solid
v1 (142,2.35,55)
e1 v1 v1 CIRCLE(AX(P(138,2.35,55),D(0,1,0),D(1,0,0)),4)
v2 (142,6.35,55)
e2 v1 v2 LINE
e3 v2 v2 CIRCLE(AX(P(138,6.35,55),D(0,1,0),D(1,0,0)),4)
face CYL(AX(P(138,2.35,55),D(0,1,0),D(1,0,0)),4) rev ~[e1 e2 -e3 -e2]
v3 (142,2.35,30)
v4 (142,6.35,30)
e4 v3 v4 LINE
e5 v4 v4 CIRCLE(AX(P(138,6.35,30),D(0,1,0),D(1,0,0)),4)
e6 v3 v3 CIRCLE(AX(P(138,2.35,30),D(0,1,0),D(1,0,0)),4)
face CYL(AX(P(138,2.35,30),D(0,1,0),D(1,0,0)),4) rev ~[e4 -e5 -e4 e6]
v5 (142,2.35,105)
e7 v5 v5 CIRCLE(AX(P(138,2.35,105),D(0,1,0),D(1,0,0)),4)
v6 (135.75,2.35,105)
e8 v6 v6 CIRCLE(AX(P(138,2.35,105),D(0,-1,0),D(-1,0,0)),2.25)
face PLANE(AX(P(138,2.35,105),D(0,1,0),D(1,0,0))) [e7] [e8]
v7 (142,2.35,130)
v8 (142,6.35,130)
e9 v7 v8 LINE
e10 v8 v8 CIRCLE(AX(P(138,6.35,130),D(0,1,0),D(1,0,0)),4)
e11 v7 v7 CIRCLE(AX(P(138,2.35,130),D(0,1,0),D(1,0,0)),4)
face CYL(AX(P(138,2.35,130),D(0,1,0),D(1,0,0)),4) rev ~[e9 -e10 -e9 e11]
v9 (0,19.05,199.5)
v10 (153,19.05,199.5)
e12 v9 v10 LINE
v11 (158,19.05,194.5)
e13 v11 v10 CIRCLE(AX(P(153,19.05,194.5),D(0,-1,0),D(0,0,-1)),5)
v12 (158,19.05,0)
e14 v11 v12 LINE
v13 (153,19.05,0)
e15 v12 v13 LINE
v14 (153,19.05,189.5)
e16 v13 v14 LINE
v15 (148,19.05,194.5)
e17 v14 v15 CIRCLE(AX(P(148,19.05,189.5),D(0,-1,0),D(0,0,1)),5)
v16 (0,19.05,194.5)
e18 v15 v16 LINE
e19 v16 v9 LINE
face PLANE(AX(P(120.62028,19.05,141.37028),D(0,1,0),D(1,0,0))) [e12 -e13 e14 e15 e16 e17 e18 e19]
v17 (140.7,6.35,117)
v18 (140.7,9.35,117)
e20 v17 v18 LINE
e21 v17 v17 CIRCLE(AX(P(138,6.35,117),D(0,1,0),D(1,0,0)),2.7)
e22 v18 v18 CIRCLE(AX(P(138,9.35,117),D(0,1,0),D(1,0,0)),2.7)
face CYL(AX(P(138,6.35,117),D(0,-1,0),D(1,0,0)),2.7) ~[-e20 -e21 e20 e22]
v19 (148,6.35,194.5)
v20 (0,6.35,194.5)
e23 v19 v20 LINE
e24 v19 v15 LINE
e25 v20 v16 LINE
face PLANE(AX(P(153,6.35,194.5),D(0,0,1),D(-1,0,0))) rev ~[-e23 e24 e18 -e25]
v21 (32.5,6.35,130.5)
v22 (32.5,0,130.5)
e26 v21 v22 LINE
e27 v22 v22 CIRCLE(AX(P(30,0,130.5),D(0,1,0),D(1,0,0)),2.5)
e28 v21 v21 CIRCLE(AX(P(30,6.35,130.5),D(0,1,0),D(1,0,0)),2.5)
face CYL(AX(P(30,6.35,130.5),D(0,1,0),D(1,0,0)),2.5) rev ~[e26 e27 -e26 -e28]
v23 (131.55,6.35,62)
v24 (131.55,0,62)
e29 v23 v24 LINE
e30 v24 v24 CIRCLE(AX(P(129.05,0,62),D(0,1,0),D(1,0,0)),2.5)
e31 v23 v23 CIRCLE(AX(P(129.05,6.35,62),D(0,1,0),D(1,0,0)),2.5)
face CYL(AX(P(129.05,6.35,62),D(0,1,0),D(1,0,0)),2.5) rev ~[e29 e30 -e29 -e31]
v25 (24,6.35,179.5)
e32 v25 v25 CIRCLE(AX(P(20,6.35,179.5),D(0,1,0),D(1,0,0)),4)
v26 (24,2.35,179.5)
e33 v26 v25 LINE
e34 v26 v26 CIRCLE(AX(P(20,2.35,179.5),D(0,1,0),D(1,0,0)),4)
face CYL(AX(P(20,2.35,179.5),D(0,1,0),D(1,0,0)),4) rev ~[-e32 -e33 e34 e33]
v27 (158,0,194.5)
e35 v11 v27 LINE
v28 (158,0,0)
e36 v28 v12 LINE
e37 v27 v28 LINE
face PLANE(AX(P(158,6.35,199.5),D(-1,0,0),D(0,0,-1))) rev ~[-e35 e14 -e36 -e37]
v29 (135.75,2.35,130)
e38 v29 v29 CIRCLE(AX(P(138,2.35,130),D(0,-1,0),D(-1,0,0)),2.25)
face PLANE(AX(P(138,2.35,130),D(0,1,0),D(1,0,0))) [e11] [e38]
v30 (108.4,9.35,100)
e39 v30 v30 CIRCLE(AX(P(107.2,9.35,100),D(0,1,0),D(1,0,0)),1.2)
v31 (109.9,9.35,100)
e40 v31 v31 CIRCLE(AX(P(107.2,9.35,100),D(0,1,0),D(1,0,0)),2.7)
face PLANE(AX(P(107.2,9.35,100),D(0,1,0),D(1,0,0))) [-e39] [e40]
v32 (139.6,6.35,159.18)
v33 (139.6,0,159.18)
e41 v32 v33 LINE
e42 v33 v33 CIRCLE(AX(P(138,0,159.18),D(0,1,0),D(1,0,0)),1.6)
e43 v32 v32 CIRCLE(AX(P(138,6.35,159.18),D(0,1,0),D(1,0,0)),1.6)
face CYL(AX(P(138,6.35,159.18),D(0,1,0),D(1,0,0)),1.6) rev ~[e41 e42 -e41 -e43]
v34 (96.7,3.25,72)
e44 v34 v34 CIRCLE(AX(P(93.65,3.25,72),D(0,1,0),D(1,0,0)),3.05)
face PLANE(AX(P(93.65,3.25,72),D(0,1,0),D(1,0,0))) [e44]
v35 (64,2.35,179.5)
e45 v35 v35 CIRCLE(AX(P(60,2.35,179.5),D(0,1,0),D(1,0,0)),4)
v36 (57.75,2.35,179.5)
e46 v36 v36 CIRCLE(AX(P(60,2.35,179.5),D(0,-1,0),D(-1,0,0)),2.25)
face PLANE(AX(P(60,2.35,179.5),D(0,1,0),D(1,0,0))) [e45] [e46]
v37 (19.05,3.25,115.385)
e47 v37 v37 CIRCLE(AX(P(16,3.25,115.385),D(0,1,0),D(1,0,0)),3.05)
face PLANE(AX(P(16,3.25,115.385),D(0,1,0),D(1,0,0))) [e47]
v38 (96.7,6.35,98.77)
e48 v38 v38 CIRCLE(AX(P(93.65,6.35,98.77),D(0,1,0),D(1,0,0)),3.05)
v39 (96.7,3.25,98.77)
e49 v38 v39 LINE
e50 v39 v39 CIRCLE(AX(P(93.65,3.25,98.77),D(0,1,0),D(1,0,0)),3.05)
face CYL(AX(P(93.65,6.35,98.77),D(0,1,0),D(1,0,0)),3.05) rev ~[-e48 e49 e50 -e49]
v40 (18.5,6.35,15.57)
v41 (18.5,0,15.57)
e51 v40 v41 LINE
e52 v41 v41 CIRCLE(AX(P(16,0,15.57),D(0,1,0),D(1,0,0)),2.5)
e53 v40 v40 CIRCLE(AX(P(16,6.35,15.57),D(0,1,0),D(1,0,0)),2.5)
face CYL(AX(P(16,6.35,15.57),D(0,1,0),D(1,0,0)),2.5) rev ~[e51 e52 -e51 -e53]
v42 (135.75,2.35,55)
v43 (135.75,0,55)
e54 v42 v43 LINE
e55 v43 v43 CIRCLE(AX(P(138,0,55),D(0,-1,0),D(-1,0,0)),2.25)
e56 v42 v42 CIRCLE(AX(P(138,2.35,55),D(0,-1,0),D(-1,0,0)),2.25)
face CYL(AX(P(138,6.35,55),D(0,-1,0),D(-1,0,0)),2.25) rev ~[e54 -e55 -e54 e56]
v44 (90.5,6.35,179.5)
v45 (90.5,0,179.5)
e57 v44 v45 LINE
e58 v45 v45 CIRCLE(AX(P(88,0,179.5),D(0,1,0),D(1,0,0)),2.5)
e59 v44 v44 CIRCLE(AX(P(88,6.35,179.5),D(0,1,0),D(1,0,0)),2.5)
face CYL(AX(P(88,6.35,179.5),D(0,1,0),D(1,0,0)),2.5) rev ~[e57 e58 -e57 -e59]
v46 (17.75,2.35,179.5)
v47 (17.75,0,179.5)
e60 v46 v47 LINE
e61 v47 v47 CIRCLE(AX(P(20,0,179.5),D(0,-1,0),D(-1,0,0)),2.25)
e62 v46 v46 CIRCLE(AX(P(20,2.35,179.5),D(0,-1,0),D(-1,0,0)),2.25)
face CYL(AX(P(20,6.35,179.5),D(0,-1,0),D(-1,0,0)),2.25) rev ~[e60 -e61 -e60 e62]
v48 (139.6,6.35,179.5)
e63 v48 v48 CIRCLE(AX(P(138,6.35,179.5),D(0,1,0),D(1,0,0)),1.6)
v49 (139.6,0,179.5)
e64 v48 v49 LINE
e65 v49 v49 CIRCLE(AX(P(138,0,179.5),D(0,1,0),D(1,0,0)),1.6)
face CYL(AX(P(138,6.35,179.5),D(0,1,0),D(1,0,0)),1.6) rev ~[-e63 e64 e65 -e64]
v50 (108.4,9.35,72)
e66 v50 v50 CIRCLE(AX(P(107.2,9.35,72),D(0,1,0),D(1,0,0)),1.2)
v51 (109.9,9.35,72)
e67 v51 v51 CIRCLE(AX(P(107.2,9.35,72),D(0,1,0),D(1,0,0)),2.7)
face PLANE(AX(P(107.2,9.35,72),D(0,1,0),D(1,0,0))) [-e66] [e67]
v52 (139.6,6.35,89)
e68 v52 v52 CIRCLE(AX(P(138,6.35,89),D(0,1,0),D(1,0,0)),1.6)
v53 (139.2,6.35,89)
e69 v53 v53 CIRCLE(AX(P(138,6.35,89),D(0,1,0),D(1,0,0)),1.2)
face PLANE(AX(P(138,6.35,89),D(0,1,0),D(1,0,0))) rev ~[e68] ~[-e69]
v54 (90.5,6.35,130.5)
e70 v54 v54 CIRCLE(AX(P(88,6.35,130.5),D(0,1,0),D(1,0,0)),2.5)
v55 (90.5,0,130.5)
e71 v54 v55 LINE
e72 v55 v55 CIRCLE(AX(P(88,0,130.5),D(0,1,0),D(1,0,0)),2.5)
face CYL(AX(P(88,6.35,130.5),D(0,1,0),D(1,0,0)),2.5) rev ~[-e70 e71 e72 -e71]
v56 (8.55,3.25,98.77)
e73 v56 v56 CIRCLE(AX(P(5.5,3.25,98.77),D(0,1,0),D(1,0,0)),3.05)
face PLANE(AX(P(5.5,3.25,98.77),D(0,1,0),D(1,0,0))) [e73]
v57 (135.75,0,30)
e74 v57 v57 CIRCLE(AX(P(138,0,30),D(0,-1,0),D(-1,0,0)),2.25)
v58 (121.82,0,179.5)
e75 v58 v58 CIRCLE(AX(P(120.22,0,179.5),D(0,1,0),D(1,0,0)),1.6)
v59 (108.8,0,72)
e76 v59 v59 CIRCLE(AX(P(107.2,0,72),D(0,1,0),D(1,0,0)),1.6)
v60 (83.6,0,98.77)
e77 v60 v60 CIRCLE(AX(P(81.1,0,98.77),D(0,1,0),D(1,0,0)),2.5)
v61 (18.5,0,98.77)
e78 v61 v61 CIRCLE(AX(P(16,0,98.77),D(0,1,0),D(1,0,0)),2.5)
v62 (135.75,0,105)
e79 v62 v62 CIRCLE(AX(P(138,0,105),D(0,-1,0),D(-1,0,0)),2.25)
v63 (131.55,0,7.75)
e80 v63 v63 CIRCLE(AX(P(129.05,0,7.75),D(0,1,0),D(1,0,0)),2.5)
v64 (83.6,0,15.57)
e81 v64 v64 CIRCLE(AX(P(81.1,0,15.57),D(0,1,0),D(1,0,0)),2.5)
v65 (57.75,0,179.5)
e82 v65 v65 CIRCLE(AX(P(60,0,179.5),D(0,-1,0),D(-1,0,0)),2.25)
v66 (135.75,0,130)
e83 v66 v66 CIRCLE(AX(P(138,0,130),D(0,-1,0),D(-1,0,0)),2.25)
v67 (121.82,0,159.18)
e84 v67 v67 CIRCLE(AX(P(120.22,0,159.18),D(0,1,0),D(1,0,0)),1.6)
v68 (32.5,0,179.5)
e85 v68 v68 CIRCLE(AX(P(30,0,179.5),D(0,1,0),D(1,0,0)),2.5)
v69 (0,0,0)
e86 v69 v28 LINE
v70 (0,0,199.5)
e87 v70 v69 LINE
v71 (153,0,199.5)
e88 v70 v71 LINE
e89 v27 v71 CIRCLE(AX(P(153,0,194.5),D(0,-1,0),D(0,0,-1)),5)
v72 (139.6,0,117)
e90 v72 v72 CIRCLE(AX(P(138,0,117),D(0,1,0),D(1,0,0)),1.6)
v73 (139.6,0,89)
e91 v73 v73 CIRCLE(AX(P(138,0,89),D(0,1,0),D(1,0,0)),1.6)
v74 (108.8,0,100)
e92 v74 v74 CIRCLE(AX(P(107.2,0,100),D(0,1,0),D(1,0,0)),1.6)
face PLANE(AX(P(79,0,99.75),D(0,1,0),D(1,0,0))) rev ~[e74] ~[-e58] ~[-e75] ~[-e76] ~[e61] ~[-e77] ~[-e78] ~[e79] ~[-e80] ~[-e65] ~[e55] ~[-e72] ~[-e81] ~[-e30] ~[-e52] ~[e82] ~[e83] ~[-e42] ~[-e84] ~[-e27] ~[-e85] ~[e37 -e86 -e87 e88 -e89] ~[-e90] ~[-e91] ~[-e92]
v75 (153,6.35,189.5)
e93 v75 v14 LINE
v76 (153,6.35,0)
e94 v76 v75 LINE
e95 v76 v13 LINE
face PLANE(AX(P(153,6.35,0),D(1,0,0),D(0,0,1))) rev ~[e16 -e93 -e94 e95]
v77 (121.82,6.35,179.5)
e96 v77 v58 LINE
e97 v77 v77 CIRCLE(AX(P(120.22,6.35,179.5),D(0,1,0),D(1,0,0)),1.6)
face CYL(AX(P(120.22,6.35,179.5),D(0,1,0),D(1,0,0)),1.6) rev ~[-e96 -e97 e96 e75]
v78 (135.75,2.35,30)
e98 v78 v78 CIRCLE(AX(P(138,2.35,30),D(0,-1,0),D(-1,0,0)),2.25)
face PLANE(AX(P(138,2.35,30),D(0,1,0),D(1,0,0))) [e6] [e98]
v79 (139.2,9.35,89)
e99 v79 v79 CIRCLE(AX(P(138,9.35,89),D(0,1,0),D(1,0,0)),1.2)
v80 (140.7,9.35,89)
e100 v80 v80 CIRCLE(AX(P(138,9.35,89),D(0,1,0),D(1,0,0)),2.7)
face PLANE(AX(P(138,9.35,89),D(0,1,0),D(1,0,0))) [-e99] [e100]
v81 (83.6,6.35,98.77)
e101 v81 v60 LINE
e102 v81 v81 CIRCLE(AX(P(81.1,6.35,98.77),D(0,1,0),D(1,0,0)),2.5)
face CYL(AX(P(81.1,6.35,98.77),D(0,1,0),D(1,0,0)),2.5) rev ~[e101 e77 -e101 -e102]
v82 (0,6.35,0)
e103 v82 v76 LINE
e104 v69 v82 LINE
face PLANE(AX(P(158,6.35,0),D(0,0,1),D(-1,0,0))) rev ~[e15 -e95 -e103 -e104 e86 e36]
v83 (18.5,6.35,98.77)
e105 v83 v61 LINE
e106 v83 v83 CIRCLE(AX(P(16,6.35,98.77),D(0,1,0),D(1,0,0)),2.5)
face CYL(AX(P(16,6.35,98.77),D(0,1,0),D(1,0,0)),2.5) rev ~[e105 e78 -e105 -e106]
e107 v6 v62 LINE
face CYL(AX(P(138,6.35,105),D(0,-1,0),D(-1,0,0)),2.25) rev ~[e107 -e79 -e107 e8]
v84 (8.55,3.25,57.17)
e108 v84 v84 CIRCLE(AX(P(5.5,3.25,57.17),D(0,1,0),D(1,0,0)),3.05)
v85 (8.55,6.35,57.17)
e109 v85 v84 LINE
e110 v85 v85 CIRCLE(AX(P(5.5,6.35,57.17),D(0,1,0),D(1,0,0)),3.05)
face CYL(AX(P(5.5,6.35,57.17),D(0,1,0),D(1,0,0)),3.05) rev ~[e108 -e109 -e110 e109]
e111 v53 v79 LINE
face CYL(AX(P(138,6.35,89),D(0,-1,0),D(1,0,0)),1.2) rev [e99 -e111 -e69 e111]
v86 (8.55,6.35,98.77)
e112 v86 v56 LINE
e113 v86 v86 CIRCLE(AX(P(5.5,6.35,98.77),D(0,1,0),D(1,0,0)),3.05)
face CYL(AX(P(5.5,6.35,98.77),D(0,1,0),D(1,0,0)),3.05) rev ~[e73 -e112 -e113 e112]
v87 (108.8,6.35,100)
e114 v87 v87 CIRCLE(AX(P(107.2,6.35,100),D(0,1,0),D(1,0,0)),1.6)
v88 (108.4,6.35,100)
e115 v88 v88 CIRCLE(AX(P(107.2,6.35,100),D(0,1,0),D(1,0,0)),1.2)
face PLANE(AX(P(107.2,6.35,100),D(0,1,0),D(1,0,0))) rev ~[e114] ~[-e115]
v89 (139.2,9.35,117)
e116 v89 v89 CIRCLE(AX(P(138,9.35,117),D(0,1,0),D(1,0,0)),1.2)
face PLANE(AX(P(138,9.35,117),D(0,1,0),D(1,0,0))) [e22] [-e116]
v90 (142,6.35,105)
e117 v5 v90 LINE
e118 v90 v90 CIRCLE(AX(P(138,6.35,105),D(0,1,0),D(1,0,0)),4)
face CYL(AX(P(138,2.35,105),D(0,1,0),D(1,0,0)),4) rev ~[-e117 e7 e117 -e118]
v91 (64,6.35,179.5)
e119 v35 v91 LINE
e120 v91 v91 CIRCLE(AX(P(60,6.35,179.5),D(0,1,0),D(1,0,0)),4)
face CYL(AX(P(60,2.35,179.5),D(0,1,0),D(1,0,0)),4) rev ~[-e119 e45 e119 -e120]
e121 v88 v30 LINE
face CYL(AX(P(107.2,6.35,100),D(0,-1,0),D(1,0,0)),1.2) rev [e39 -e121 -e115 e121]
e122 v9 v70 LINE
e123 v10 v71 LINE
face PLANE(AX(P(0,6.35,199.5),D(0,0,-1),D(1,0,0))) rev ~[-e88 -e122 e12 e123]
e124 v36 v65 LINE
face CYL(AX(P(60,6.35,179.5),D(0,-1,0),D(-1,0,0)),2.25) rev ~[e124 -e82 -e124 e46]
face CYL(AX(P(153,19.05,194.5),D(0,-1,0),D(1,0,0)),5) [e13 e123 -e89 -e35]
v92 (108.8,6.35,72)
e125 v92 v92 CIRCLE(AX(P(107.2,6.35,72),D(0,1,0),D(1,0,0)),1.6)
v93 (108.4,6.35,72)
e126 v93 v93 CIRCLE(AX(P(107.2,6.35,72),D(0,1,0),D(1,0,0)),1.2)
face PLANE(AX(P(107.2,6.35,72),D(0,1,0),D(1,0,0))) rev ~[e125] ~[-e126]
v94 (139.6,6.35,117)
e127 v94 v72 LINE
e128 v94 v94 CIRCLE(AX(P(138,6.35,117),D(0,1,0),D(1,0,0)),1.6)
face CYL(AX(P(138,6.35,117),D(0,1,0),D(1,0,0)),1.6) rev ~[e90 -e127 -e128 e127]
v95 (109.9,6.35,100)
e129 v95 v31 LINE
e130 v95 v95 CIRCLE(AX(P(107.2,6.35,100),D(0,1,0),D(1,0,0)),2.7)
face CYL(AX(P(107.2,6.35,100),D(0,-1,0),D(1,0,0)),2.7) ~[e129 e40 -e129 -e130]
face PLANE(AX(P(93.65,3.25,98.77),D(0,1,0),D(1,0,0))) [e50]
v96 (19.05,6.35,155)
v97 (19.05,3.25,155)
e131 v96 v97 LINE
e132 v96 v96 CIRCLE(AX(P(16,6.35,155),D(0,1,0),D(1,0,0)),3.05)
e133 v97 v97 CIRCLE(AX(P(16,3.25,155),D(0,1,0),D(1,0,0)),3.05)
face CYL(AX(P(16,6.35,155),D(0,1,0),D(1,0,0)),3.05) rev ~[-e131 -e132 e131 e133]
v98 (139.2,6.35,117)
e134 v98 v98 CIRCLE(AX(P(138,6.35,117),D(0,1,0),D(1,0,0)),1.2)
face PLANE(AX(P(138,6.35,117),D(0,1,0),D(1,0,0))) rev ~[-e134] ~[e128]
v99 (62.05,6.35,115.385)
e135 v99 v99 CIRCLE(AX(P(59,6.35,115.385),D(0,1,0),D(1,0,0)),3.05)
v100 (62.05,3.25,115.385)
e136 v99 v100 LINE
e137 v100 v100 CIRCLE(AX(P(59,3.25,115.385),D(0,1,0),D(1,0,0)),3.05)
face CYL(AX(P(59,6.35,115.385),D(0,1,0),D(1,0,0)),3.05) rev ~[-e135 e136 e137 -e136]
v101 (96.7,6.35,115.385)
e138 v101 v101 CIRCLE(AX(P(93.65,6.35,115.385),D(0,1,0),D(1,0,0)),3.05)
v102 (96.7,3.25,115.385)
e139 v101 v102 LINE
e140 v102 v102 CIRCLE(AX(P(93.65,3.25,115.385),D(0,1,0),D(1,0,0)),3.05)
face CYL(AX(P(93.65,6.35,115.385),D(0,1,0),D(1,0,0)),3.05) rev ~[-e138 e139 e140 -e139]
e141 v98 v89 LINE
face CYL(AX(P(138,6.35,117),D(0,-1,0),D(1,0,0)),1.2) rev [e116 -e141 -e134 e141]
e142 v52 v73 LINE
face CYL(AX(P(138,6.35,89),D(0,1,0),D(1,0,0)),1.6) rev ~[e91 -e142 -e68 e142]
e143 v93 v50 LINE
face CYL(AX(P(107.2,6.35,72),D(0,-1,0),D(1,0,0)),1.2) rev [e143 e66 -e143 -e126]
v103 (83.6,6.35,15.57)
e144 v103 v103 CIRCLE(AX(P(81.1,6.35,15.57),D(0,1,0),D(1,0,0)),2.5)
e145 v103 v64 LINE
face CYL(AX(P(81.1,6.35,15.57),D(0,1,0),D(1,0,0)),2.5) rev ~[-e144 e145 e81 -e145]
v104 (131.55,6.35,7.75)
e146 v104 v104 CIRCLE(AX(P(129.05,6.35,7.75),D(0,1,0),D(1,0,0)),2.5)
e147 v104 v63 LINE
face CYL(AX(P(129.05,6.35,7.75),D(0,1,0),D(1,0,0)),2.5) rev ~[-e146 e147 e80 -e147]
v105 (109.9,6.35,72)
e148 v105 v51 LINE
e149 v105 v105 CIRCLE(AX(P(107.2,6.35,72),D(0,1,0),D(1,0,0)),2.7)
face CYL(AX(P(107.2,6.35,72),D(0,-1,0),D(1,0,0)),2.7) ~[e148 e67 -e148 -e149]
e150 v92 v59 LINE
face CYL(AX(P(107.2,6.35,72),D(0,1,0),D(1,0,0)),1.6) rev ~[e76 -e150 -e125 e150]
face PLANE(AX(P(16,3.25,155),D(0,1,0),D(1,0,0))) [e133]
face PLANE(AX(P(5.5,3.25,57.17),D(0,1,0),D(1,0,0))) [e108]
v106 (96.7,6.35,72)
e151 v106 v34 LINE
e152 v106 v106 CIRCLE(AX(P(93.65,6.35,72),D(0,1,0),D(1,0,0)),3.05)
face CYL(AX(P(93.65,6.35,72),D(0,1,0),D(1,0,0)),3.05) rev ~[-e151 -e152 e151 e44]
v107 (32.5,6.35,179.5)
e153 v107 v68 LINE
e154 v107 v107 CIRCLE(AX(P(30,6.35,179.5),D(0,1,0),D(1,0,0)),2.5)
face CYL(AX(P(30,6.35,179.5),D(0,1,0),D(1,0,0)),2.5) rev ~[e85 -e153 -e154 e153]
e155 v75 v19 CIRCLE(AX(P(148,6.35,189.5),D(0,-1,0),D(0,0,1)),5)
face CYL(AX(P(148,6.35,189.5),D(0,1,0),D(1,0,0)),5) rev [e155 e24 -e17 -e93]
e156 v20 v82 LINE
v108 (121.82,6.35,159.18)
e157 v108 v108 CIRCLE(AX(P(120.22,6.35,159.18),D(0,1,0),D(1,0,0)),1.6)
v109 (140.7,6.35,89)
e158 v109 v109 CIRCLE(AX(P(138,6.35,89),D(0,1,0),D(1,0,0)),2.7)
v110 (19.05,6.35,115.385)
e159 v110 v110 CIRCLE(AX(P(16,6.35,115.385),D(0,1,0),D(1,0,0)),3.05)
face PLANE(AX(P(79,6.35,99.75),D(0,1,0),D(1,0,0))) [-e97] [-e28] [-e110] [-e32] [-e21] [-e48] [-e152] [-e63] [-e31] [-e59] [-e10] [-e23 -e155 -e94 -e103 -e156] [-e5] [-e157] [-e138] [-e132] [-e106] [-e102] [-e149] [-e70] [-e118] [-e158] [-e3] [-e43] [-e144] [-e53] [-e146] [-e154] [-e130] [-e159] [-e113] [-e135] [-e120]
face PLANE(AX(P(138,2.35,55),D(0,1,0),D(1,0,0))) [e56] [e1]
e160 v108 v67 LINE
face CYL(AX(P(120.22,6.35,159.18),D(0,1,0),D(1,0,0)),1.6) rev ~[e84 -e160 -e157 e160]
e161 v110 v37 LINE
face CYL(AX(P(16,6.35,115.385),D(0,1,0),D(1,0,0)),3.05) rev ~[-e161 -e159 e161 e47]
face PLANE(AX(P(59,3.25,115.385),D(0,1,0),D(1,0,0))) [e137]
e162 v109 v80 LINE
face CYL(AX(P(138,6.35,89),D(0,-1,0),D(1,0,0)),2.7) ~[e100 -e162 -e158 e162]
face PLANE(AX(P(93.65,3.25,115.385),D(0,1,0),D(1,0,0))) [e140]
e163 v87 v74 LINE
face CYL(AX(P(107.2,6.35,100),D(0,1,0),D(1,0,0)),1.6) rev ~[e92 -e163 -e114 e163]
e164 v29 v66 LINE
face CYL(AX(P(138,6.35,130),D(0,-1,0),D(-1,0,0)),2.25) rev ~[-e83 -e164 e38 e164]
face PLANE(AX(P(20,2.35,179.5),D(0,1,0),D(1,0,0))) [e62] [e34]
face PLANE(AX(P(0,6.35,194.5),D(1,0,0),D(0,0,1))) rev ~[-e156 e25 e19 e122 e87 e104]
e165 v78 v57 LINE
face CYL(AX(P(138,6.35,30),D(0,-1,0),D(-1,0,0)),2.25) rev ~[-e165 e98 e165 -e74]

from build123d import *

# Parameters (mm, degrees)
SKETCH1_W                      = 158
SKETCH1_H                      = 199.5
BOSS_EXTRUDE1_DEPTH            = 6.35
BOSS_EXTRUDE2_DEPTH            = 12.7
CBORE_FOR_M4_SHCS1_D           = 4.5
CBORE_FOR_M4_SHCS1_DEPTH       = 6.35
CBORE_FOR_M4_SHCS1_CBORE_D     = 8
CBORE_FOR_M4_SHCS1_CBORE_DEPTH = 4
FILLET2_R                      = 5
FILLET3_R                      = 5
SKETCH8_R                      = 2.5
ESTOP_DEPTH                    = 7.35
SKETCH9_R                      = 2.5
NUCLEOANDPI_DEPTH              = 7.35
SKETCH10_R                     = 2.7
SKETCH10_R_2                   = 1.2
BUCKS_EXTRUDE_DEPTH            = 3
SKETCH11_R                     = 1.6
BUCKS_CUT_DEPTH                = 6.35
BUCK_2_COUNT                   = 2
BUCK_2_PITCH                   = 28
SKETCH12_R                     = 2.5
PI_2_DEPTH                     = 7.35
SKETCH13_R                     = 1.6
IMU_DEPTH                      = 7.35
SKETCH15_R                     = 3.05
MAGNETS_DEPTH                  = 3.1


with BuildPart() as part:
    # Sketch1 → Boss-Extrude1 (new body)
    with BuildSketch(Plane(origin=(0, 0, 0), x_dir=(1, 0, 0), z_dir=(0, 1, 0))):
        with Locations((79, -99.75)):
            Rectangle(SKETCH1_W, SKETCH1_H)
    extrude(amount=BOSS_EXTRUDE1_DEPTH)

    # Sketch3 → Boss-Extrude2 (add)
    with BuildSketch(Plane(origin=(0, 6.35, 0), x_dir=(1, 0, 0), z_dir=(0, 1, 0))):
        Polygon((158, -199.5), (158, 0), (153, 0), (153, -194.5), (0, -194.5), (0, -199.5), align=None)
    extrude(amount=BOSS_EXTRUDE2_DEPTH)

    # CBORE for M4 SHCS1
    with Locations(Plane(origin=(0, 6.35, 0), x_dir=(1, 0, 0), z_dir=(0, 1, 0))):
        with Locations((138, -55), (20, -179.5), (60, -179.5), (138, -130), (138, -105), (138, -30)):
            CounterBoreHole(CBORE_FOR_M4_SHCS1_D / 2, CBORE_FOR_M4_SHCS1_CBORE_D / 2, CBORE_FOR_M4_SHCS1_CBORE_DEPTH, depth=CBORE_FOR_M4_SHCS1_DEPTH)

    # Fillet2
    fillet2_edges = [part.edges().sort_by_distance(p)[0] for p in [
        (158, 9.525, 199.5),
    ]]
    fillet(fillet2_edges, radius=FILLET2_R)

    # Fillet3
    fillet3_edges = [part.edges().sort_by_distance(p)[0] for p in [
        (153, 12.7, 194.5),
    ]]
    fillet(fillet3_edges, radius=FILLET3_R)

    # Sketch8 → eStop (cut, through all)
    with BuildSketch(Plane(origin=(0, 6.35, 0), x_dir=(1, 0, 0), z_dir=(0, 1, 0))):
        with Locations((129.05, -62)):
            Circle(SKETCH8_R)
        with Locations((129.05, -7.75)):
            Circle(SKETCH8_R)
    extrude(amount=-ESTOP_DEPTH, mode=Mode.SUBTRACT)

    # Sketch9 → NucleoAndPi (cut, through all)
    with BuildSketch(Plane(origin=(0, 6.35, 0), x_dir=(1, 0, 0), z_dir=(0, 1, 0))):
        with Locations((16, -15.57)):
            Circle(SKETCH9_R)
        with Locations((81.1, -15.57)):
            Circle(SKETCH9_R)
        with Locations((81.1, -98.77)):
            Circle(SKETCH9_R)
        with Locations((16, -98.77)):
            Circle(SKETCH9_R)
    extrude(amount=-NUCLEOANDPI_DEPTH, mode=Mode.SUBTRACT)

    # Sketch10 → Bucks - Extrude (add)
    with BuildSketch(Plane(origin=(0, 6.35, 0), x_dir=(1, 0, 0), z_dir=(0, 1, 0))):
        with Locations((138, -89)):
            Circle(SKETCH10_R)
        with Locations((138, -89)):
            Circle(SKETCH10_R_2, mode=Mode.SUBTRACT)
        with Locations((107.2, -72)):
            Circle(SKETCH10_R)
        with Locations((107.2, -72)):
            Circle(SKETCH10_R_2, mode=Mode.SUBTRACT)
    bucks_extrude = extrude(amount=BUCKS_EXTRUDE_DEPTH)

    # Sketch11 → Bucks - Cut (cut)
    with BuildSketch(Plane(origin=(0, 6.35, 0), x_dir=(1, 0, 0), z_dir=(0, 1, 0))):
        with Locations((138, -89)):
            Circle(SKETCH11_R)
        with Locations((107.2, -72)):
            Circle(SKETCH11_R)
    bucks_cut = extrude(amount=-BUCKS_CUT_DEPTH, mode=Mode.SUBTRACT)

    # Buck 2: Bucks - Extrude, Bucks - Cut ×2
    with Locations(*[(0, 0, i * BUCK_2_PITCH) for i in range(1, BUCK_2_COUNT)]):
        add(bucks_extrude)
        add(bucks_cut, mode=Mode.SUBTRACT)

    # Sketch12 → Pi 2 (cut, through all)
    with BuildSketch(Plane(origin=(0, 6.35, 0), x_dir=(1, 0, 0), z_dir=(0, 1, 0))):
        with Locations((30, -130.5)):
            Circle(SKETCH12_R)
        with Locations((88, -130.5)):
            Circle(SKETCH12_R)
        with Locations((88, -179.5)):
            Circle(SKETCH12_R)
        with Locations((30, -179.5)):
            Circle(SKETCH12_R)
    extrude(amount=-PI_2_DEPTH, mode=Mode.SUBTRACT)

    # Sketch13 → IMU (cut, through all)
    with BuildSketch(Plane(origin=(0, 6.35, 0), x_dir=(1, 0, 0), z_dir=(0, 1, 0))):
        with Locations((120.22, -159.18)):
            Circle(SKETCH13_R)
        with Locations((120.22, -179.5)):
            Circle(SKETCH13_R)
        with Locations((138, -159.18)):
            Circle(SKETCH13_R)
        with Locations((138, -179.5)):
            Circle(SKETCH13_R)
    extrude(amount=-IMU_DEPTH, mode=Mode.SUBTRACT)

    # Sketch15 → MAGNETS (cut)
    with BuildSketch(Plane(origin=(0, 6.35, 0), x_dir=(1, 0, 0), z_dir=(0, 1, 0))):
        with Locations((5.5, -57.17)):
            Circle(SKETCH15_R)
        with Locations((5.5, -98.77)):
            Circle(SKETCH15_R)
        with Locations((16, -115.385)):
            Circle(SKETCH15_R)
        with Locations((59, -115.385)):
            Circle(SKETCH15_R)
        with Locations((93.65, -98.77)):
            Circle(SKETCH15_R)
        with Locations((93.65, -115.385)):
            Circle(SKETCH15_R)
        with Locations((93.65, -72)):
            Circle(SKETCH15_R)
        with Locations((16, -155)):
            Circle(SKETCH15_R)
    extrude(amount=-MAGNETS_DEPTH, mode=Mode.SUBTRACT)


solid = part.part
